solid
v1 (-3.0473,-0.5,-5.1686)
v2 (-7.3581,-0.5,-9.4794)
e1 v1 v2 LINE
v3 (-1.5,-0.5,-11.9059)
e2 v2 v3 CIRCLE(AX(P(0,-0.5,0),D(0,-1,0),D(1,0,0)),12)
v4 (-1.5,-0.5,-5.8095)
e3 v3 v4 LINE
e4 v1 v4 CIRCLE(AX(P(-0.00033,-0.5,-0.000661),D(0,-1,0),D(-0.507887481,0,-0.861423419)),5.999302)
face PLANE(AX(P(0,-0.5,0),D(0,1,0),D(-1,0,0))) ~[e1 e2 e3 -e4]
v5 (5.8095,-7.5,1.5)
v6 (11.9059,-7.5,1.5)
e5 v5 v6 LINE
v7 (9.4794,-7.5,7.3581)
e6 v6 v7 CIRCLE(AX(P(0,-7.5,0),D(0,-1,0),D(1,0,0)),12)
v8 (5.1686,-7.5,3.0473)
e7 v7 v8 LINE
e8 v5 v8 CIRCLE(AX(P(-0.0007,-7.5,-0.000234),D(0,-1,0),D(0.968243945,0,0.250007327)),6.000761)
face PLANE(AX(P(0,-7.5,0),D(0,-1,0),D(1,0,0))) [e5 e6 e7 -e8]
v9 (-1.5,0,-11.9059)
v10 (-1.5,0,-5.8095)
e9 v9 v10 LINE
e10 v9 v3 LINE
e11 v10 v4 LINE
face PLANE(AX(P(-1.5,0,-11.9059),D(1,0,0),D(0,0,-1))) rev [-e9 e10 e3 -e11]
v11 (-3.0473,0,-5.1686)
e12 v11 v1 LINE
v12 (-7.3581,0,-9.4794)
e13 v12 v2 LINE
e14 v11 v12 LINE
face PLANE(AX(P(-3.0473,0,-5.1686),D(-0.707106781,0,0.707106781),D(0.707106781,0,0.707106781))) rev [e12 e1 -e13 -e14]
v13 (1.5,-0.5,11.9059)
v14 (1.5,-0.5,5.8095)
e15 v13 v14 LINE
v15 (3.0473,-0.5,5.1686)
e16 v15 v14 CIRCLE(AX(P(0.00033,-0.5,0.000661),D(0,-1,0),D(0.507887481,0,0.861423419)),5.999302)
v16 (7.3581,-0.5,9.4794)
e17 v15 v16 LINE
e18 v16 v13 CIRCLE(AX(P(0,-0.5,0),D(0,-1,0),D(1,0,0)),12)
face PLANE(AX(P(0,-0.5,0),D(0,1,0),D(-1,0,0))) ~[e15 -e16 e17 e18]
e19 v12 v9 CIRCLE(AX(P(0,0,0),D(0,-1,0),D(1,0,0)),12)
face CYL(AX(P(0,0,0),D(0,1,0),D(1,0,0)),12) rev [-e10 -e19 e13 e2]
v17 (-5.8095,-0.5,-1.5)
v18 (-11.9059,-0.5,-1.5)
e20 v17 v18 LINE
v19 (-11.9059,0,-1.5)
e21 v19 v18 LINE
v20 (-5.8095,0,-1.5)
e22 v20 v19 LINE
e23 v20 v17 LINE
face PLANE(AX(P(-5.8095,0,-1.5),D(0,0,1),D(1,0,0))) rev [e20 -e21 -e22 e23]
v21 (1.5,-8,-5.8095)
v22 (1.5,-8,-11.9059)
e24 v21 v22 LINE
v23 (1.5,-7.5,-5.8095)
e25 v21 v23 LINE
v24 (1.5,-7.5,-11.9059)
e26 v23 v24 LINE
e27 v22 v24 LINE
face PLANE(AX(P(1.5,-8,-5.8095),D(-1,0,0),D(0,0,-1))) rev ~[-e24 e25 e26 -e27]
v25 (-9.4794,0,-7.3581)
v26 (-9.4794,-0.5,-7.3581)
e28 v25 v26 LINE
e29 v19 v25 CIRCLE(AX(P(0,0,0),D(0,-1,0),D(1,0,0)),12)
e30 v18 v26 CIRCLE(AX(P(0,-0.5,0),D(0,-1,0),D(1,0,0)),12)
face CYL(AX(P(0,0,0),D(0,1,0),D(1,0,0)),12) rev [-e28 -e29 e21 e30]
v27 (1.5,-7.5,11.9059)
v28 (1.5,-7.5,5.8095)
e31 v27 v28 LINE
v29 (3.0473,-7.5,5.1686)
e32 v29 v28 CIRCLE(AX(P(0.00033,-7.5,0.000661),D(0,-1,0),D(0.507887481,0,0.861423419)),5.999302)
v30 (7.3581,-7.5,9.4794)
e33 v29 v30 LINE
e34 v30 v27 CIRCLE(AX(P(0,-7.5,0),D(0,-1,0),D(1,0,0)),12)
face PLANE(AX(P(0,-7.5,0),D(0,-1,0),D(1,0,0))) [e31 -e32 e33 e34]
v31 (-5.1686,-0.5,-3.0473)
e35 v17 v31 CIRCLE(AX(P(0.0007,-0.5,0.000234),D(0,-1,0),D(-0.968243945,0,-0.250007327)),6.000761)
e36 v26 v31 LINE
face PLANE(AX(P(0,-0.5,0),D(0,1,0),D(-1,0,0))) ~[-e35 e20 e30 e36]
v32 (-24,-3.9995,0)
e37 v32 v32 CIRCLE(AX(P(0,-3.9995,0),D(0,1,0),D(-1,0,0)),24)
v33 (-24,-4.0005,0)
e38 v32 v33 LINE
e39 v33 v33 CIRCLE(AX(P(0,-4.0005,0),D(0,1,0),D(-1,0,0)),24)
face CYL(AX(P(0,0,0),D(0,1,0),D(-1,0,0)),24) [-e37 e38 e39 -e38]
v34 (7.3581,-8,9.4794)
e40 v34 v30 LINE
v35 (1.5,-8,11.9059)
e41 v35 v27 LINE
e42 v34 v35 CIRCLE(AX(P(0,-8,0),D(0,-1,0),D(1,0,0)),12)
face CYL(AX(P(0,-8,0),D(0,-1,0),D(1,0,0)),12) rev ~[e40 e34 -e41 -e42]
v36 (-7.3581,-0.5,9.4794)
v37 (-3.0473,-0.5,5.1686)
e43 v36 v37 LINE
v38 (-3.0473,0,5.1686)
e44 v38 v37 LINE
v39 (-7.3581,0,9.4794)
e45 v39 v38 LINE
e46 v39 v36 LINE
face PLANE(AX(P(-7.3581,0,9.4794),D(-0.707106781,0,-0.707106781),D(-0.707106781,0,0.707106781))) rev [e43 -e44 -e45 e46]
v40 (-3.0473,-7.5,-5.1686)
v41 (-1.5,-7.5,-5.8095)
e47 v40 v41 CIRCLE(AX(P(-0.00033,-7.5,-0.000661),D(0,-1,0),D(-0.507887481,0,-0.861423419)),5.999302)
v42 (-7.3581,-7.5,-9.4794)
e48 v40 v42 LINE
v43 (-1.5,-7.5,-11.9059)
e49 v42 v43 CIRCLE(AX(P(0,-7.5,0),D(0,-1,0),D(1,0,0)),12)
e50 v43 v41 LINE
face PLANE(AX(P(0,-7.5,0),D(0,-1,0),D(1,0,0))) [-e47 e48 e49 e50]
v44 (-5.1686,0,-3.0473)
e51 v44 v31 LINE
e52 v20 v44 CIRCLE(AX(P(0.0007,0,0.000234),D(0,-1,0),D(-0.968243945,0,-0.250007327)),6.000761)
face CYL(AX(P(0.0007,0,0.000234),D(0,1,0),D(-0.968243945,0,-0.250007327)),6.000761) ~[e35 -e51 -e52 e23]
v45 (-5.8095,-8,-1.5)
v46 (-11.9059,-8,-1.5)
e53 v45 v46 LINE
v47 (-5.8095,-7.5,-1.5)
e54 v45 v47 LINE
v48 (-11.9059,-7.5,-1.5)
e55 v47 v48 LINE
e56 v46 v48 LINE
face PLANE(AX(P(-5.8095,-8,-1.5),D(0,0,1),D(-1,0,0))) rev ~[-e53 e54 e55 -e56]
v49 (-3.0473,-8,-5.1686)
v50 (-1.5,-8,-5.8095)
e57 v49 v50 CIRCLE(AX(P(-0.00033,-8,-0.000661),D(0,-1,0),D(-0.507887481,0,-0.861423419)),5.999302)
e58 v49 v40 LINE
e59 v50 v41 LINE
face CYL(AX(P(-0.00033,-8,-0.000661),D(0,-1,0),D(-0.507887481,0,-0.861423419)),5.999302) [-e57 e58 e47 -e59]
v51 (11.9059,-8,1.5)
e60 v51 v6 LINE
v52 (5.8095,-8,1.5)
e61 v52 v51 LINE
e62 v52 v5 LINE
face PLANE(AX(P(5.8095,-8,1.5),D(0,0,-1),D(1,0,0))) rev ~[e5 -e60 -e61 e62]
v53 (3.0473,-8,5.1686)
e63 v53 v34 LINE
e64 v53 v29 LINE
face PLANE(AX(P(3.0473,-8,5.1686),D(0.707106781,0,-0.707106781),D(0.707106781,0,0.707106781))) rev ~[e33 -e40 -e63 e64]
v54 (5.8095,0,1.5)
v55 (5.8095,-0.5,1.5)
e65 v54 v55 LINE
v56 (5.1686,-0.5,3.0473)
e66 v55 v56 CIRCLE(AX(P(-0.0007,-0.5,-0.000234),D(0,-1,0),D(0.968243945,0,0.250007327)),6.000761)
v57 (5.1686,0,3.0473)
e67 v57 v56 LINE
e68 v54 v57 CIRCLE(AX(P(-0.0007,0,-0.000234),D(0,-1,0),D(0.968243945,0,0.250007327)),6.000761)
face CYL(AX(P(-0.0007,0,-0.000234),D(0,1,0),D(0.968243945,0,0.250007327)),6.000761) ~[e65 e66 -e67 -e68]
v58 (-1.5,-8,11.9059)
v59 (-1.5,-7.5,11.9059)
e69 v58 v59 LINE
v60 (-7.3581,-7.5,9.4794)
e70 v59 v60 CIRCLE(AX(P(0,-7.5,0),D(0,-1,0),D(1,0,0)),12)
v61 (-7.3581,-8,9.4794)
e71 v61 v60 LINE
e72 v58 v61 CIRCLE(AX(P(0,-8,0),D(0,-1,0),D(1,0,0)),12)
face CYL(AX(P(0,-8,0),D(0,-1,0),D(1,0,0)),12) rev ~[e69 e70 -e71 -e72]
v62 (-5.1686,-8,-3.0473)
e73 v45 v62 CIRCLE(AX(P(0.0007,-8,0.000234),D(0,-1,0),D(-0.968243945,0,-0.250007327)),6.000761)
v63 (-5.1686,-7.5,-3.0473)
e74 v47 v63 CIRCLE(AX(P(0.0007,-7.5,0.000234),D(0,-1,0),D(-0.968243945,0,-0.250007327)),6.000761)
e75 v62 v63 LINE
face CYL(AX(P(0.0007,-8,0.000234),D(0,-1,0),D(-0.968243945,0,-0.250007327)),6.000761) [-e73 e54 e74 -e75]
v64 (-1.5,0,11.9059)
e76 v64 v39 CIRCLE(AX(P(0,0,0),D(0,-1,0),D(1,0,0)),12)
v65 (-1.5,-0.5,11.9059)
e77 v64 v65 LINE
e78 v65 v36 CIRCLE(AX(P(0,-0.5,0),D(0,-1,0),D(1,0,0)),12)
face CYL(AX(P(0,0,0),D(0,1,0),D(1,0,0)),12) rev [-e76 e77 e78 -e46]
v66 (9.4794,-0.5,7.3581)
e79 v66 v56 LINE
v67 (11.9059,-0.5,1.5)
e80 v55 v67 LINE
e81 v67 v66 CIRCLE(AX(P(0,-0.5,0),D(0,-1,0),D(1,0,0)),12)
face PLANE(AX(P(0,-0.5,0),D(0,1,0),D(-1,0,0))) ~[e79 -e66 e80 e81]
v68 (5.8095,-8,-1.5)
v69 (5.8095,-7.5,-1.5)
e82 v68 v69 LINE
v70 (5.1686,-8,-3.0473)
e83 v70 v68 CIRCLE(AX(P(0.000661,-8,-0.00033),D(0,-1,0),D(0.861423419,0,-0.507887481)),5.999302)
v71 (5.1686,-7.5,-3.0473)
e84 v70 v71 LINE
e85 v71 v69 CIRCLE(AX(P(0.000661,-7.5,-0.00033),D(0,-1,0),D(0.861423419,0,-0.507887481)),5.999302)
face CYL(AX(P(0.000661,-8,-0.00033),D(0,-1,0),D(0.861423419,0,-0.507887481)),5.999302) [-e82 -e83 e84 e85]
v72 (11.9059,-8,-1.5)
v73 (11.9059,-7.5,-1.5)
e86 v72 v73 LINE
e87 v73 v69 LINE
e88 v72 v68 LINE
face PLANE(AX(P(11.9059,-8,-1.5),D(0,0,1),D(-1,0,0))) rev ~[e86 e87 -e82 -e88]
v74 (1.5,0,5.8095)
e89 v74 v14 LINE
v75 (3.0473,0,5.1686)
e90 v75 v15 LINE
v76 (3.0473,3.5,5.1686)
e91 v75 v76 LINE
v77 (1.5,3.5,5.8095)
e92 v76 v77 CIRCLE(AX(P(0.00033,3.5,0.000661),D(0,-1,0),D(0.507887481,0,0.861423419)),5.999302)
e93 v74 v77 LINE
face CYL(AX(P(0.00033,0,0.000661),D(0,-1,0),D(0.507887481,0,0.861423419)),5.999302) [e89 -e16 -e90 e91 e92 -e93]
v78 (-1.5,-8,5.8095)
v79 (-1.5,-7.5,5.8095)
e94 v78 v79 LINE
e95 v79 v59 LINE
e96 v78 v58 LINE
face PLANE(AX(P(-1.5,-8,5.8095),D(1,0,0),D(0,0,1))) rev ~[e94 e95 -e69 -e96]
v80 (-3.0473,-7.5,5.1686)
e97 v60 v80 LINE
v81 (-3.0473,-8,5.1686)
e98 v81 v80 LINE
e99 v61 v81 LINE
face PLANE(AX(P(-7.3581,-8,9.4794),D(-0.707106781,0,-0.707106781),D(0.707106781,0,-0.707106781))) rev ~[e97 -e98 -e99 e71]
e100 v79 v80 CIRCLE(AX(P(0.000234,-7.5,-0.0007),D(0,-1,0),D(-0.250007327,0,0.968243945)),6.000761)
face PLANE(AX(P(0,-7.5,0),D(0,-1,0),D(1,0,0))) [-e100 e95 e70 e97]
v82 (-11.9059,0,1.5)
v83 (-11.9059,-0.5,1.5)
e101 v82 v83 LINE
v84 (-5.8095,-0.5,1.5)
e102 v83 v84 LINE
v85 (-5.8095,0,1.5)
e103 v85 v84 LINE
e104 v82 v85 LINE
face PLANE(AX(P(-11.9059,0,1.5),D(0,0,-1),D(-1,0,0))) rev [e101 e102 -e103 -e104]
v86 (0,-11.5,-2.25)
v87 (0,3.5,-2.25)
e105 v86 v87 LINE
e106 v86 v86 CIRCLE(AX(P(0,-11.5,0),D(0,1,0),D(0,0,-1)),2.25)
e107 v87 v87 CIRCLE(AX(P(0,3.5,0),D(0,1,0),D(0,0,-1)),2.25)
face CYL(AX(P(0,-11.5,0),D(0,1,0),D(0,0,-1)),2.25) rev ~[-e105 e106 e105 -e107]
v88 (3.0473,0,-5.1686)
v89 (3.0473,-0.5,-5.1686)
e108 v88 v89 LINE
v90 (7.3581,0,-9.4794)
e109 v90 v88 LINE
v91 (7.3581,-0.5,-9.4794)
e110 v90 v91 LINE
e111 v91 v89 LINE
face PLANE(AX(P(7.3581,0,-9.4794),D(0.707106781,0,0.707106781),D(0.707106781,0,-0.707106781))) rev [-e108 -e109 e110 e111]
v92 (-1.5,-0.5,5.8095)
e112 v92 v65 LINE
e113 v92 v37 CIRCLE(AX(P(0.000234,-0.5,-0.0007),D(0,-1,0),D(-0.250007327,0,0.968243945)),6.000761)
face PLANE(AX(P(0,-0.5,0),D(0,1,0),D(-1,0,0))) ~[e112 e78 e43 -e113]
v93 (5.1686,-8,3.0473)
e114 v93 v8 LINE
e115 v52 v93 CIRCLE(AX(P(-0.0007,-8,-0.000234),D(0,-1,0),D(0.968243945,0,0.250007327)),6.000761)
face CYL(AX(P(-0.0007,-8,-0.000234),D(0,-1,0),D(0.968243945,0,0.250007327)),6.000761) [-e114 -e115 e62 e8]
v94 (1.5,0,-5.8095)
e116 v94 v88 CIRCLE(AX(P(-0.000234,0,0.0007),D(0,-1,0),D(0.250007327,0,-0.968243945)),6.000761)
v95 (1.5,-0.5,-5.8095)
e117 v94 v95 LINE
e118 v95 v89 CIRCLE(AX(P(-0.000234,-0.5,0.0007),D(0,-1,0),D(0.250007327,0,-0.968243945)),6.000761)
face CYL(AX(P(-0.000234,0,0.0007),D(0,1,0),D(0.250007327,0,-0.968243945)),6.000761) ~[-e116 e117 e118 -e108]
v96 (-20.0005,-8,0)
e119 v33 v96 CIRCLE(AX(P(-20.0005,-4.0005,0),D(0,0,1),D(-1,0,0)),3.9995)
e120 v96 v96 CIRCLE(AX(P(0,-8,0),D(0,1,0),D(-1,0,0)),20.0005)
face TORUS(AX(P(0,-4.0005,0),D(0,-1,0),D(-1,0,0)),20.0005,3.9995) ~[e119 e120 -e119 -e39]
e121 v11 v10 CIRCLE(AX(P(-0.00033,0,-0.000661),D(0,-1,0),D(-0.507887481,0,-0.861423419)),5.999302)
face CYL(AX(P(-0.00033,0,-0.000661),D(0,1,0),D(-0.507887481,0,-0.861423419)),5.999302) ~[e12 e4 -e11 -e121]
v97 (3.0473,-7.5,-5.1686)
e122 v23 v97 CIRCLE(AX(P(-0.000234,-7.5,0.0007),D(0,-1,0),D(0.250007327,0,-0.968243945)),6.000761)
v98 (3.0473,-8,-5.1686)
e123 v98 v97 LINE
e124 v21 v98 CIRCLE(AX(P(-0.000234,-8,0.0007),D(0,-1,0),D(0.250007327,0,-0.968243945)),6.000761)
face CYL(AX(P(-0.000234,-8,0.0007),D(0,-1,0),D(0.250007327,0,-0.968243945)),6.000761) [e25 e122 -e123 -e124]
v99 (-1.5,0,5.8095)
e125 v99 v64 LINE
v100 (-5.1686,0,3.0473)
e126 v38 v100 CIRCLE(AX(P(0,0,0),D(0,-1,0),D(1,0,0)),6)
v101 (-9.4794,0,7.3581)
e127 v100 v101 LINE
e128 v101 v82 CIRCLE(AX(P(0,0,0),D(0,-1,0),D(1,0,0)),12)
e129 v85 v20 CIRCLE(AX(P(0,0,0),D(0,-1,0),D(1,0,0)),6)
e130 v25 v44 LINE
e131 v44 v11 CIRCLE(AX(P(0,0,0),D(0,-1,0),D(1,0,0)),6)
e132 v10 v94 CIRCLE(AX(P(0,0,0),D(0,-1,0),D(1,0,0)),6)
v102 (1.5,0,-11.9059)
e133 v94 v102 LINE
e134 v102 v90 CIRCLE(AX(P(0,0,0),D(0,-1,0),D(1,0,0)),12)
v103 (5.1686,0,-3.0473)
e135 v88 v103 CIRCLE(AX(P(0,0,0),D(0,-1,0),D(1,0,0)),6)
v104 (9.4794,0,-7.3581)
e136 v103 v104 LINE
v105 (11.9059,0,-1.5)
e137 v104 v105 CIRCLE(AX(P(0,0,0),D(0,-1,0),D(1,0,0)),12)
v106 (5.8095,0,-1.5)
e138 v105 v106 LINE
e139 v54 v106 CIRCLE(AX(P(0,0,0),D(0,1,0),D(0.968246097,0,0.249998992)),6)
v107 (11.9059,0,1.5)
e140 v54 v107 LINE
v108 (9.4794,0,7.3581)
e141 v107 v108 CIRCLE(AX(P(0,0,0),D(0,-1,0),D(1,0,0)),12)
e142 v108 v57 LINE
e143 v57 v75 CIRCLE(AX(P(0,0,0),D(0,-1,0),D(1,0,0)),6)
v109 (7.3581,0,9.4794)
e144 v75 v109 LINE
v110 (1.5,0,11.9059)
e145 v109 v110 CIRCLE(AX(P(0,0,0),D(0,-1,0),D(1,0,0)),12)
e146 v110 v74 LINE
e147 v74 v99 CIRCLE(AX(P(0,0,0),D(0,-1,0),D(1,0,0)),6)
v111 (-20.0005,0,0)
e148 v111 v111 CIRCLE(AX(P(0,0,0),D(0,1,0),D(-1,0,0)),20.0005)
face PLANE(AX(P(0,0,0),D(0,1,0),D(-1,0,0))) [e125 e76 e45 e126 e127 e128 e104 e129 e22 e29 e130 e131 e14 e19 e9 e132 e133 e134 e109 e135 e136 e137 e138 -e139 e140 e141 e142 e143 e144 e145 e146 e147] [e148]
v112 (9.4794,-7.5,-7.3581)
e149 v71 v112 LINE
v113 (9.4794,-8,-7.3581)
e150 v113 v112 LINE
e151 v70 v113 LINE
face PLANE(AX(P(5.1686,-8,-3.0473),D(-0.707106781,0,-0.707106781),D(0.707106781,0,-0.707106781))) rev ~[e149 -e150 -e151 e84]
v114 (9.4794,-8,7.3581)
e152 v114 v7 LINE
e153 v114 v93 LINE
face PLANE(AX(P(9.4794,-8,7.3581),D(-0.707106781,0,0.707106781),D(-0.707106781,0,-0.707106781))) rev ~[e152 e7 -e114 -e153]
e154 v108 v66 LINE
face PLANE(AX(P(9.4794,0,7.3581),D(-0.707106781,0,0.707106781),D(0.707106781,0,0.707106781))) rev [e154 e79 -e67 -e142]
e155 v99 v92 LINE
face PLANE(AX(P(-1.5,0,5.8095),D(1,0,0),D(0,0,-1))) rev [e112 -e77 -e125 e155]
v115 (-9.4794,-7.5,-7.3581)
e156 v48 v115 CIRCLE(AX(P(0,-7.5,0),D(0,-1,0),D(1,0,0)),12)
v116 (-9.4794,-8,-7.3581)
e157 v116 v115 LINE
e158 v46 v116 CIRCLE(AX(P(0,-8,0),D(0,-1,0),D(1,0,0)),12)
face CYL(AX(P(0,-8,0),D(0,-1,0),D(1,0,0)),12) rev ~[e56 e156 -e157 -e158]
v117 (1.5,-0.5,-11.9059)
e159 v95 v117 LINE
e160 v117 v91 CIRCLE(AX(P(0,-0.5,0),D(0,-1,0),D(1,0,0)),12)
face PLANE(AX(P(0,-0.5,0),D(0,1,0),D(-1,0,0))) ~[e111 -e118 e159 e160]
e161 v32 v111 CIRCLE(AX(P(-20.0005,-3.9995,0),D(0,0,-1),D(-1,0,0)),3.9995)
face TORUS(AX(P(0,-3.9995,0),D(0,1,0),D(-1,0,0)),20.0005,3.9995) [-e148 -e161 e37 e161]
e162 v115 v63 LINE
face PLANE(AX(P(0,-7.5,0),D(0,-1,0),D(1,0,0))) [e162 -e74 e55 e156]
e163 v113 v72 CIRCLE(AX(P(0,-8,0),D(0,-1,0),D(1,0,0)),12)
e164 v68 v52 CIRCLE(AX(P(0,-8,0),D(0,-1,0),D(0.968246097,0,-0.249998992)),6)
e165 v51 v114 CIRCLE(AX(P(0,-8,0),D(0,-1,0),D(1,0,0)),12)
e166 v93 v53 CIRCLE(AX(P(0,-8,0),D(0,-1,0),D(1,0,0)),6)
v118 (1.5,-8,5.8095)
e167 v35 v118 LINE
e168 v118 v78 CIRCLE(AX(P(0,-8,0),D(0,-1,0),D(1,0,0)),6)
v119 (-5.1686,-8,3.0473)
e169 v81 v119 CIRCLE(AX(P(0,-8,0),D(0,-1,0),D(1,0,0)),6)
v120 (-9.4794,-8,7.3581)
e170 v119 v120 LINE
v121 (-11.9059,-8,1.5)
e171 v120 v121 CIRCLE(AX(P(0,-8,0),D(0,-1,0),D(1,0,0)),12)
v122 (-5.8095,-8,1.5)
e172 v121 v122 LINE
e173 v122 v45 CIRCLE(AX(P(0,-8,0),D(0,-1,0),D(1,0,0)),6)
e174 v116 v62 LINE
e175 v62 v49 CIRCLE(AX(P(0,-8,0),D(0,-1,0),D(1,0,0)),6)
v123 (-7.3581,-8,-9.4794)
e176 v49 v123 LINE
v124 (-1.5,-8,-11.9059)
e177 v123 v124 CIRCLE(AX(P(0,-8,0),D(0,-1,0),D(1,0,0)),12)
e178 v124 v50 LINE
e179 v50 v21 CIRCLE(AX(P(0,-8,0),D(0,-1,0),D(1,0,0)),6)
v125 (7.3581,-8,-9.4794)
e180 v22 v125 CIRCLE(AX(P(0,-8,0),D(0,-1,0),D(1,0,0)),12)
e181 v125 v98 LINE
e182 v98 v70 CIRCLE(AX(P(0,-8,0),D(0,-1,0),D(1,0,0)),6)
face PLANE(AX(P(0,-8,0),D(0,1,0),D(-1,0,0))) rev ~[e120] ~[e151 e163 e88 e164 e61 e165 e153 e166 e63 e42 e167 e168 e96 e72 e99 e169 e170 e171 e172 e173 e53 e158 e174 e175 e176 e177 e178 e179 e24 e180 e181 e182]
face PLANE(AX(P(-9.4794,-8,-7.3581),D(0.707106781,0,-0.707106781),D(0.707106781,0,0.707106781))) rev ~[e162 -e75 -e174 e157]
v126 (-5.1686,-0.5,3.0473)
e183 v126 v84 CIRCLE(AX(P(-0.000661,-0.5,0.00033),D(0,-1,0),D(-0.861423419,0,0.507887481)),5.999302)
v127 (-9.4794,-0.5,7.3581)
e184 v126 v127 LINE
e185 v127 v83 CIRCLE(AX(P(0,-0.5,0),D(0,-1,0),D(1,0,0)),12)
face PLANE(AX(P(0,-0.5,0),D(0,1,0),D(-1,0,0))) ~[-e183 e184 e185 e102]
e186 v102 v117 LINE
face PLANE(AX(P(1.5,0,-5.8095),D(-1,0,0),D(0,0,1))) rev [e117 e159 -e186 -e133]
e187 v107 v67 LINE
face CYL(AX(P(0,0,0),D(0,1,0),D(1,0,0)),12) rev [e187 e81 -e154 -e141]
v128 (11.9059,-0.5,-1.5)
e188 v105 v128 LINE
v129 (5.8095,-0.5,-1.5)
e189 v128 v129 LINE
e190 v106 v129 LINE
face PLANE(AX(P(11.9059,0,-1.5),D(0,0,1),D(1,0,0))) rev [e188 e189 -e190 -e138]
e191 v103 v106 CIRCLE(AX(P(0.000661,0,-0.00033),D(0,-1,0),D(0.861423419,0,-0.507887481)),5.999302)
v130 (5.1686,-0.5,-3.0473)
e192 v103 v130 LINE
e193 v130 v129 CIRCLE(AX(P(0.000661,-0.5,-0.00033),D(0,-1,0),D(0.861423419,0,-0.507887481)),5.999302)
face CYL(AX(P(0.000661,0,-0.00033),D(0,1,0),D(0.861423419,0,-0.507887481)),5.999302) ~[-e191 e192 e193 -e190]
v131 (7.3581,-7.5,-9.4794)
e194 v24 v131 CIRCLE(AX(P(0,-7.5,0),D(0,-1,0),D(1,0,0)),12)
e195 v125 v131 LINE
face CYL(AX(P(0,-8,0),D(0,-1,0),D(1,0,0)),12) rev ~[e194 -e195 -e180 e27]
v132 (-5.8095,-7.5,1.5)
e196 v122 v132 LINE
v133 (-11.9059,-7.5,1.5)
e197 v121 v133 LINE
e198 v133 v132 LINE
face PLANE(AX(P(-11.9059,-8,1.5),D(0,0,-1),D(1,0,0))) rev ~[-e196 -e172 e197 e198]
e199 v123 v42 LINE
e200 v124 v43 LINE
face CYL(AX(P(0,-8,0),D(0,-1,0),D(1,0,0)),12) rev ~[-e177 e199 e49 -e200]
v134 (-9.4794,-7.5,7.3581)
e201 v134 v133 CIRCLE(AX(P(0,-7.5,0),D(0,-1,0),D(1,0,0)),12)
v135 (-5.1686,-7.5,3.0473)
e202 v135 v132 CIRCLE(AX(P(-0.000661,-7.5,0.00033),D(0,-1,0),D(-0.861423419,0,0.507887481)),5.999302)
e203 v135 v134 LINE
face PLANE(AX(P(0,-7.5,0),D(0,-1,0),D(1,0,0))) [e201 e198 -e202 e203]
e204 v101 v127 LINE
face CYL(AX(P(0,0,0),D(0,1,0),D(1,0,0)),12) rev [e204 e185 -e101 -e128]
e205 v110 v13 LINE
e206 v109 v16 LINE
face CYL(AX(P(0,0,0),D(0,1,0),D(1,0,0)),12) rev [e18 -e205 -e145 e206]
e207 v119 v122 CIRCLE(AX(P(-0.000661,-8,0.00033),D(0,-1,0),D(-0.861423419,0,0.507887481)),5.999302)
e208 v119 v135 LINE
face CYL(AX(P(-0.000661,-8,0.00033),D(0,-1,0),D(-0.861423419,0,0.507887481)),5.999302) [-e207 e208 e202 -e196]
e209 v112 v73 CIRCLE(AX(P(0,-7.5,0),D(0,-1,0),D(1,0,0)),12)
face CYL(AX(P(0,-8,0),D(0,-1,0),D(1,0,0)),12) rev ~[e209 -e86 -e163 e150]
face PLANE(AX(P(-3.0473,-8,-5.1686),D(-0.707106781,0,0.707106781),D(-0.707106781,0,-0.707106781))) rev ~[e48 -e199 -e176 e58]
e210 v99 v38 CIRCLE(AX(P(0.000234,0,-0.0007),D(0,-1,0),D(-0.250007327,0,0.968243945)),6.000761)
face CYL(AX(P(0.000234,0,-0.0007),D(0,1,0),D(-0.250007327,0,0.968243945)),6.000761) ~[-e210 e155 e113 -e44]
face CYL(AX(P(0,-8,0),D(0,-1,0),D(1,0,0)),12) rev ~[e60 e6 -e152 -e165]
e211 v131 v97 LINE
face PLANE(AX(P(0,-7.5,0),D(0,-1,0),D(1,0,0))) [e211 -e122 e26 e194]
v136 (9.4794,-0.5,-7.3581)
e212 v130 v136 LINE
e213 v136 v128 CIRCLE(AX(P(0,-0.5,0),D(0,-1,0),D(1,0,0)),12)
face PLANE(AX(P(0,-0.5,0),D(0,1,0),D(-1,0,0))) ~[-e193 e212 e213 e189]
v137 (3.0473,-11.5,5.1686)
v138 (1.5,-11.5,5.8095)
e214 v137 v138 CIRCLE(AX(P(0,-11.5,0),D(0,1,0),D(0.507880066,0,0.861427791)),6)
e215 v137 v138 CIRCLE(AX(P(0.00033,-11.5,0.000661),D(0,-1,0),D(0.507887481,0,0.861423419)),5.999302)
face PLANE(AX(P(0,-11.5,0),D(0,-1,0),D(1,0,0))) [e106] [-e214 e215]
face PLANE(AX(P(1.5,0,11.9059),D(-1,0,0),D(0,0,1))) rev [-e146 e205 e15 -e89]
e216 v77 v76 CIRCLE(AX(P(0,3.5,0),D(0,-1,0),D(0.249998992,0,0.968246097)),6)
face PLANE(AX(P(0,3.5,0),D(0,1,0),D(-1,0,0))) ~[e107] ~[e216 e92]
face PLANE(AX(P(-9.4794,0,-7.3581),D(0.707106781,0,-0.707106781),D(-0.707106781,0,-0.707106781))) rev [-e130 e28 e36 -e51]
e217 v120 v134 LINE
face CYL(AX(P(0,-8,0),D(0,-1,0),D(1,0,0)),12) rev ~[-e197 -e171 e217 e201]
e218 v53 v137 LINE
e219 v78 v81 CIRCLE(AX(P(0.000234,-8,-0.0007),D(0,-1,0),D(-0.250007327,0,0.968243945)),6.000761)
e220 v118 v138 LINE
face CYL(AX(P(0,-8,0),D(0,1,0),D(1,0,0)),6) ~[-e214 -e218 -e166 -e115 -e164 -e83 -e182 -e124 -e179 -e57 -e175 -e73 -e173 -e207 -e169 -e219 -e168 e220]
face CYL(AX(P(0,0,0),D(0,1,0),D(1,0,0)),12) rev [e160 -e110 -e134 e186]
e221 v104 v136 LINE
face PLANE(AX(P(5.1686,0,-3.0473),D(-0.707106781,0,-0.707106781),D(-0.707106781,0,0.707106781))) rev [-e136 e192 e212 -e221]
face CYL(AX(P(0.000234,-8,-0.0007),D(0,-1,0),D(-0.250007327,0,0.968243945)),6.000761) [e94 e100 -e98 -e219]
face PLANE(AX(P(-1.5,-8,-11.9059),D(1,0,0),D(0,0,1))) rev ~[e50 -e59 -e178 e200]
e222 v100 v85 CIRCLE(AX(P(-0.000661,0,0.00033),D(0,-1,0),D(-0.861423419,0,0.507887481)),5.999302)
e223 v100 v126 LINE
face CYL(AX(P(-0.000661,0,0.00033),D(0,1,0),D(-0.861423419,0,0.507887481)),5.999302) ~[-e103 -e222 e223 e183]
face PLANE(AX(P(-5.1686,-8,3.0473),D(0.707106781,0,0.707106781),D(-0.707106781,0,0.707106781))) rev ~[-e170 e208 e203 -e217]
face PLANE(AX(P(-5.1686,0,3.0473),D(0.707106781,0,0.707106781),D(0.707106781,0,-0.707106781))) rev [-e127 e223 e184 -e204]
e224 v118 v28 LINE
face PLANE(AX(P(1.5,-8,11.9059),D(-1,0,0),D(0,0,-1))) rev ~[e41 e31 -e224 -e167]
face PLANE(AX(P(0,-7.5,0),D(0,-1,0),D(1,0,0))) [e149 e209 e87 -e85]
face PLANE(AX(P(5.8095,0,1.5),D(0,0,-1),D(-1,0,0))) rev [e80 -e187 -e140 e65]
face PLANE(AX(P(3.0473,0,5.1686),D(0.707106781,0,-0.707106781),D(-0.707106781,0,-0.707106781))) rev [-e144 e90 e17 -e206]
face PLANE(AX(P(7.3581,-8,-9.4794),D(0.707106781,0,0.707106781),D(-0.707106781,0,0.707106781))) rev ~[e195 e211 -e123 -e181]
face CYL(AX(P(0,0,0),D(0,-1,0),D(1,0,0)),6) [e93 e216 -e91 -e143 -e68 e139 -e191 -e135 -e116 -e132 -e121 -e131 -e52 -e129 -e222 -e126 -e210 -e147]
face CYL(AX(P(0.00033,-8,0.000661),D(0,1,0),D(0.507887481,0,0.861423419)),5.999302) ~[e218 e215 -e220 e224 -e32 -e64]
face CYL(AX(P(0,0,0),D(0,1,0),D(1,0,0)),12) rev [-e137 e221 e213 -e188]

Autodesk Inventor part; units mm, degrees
ref_plane "YZ Plane" through (0, 0, 0) normal (1, 0, 0) x (0, 1, 0)
ref_plane "XZ Plane" through (0, 0, 0) normal (0, 1, 0) x (-1, 0, 0)
sketch "Sketch1" plane through (0, 0, 0) normal (0, 1, 0) x (-1, 0, 0)
  circle A0 centre (0, 0) radius 24
  dimension "d0" = 48
extrude "Extrusion1" add sketch "Sketch1" against normal blind 8
fillet "Fillet1" radius 4 2 edges at (24, 0, 0) (24, -8, 0)
sketch "Sketch2" plane through (0, -8, 0) normal (0, -1, 0) x (1, 0, 0)
  circle A0 centre (0, 0) radius 12
  line L0 (-7.3581, 9.4794) -> (-3.0473, 5.1686)
  arc A1 (-1.5, 5.8095) -> (-3.0473, 5.1686) centre (0, 0) ccw
  line L1 (-1.5, 5.8095) -> (-1.5, 11.9059)
  arc A2 (-1.5, 11.9059) -> (-7.3581, 9.4794) centre (0, 0) ccw
  line L2 (3.0473, 5.1686) -> (7.3581, 9.4794)
  arc A3 (7.3581, 9.4794) -> (1.5, 11.9059) centre (0, 0) ccw
  line L3 (1.5, 11.9059) -> (1.5, 5.8095)
  arc A4 (3.0473, 5.1686) -> (1.5, 5.8095) centre (0, 0) ccw
  line L4 (9.4794, 7.3581) -> (5.1686, 3.0473)
  arc A5 (5.8095, 1.5) -> (5.1686, 3.0473) centre (0, 0) ccw
  line L5 (5.8095, 1.5) -> (11.9059, 1.5)
  arc A6 (11.9059, 1.5) -> (9.4794, 7.3581) centre (0, 0) ccw
  line L6 (11.9059, -1.5) -> (5.8095, -1.5)
  arc A7 (5.1686, -3.0473) -> (5.8095, -1.5) centre (0, 0) ccw
  line L7 (5.1686, -3.0473) -> (9.4794, -7.3581)
  arc A8 (9.4794, -7.3581) -> (11.9059, -1.5) centre (0, 0) ccw
  line L8 (7.3581, -9.4794) -> (3.0473, -5.1686)
  arc A9 (1.5, -5.8095) -> (3.0473, -5.1686) centre (0, 0) ccw
  line L9 (1.5, -5.8095) -> (1.5, -11.9059)
  arc A10 (1.5, -11.9059) -> (7.3581, -9.4794) centre (0, 0) ccw
  line L10 (-3.0473, -5.1686) -> (-7.3581, -9.4794)
  arc A11 (-7.3581, -9.4794) -> (-1.5, -11.9059) centre (0, 0) ccw
  line L11 (-1.5, -11.9059) -> (-1.5, -5.8095)
  arc A12 (-3.0473, -5.1686) -> (-1.5, -5.8095) centre (0, 0) ccw
  line L12 (-9.4794, -7.3581) -> (-5.1686, -3.0473)
  arc A13 (-5.8095, -1.5) -> (-5.1686, -3.0473) centre (0, 0) ccw
  line L13 (-5.8095, -1.5) -> (-11.9059, -1.5)
  arc A14 (-11.9059, -1.5) -> (-9.4794, -7.3581) centre (0, 0) ccw
  line L14 (-5.1686, 3.0473) -> (-9.4794, 7.3581)
  arc A15 (-9.4794, 7.3581) -> (-11.9059, 1.5) centre (0, 0) ccw
  line L15 (-11.9059, 1.5) -> (-5.8095, 1.5)
  arc A16 (-5.1686, 3.0473) -> (-5.8095, 1.5) centre (0, 0) ccw
  circle A17 centre (0, 0) radius 6
  circle A18 centre (0, 0) radius 2.1
  point P0 (-6, 0)
extrude "Extrusion2" cut sketch "Sketch2" against normal blind 0.5 contours L5 A5 L4 A0 | A0 L7 A7 L6 | L2 A4 L3 A0 | A0 L9 A9 L8 | L1 A1 L0 A0 | A0 L10 A12 L11 | L14 A16 L15 A0 | A0 L13 A13 L12
sketch "Sketch3" plane through (0, -8, 0) normal (0, -1, 0) x (1, 0, 0)
  arc A0 (3.0473, 5.1686) -> (1.5, 5.8095) centre (0, 0) ccw projected
  circle A1 centre (0, 0) radius 6
extrude "Extrusion3" add sketch "Sketch3" along normal blind 3.5
ref_plane "Work Plane1" through (0, -4, 0) normal (0, -1, 0) x (1, 0, 0)
mirror "Mirror1" about plane through (0, -4, 0) normal (0, -1, 0) of "Extrusion2", "Extrusion3"
sketch "Sketch4" plane through (0, -11.5, 0) normal (0, -1, 0) x (1, 0, 0)
  point P0 (0, 0)
hole "Hole1" at (0, -11.5, 0) direction (0, 1, 0) diameter 4.5 end through all
properties part number "13-0003" material "Polystyrene, High Impact"
